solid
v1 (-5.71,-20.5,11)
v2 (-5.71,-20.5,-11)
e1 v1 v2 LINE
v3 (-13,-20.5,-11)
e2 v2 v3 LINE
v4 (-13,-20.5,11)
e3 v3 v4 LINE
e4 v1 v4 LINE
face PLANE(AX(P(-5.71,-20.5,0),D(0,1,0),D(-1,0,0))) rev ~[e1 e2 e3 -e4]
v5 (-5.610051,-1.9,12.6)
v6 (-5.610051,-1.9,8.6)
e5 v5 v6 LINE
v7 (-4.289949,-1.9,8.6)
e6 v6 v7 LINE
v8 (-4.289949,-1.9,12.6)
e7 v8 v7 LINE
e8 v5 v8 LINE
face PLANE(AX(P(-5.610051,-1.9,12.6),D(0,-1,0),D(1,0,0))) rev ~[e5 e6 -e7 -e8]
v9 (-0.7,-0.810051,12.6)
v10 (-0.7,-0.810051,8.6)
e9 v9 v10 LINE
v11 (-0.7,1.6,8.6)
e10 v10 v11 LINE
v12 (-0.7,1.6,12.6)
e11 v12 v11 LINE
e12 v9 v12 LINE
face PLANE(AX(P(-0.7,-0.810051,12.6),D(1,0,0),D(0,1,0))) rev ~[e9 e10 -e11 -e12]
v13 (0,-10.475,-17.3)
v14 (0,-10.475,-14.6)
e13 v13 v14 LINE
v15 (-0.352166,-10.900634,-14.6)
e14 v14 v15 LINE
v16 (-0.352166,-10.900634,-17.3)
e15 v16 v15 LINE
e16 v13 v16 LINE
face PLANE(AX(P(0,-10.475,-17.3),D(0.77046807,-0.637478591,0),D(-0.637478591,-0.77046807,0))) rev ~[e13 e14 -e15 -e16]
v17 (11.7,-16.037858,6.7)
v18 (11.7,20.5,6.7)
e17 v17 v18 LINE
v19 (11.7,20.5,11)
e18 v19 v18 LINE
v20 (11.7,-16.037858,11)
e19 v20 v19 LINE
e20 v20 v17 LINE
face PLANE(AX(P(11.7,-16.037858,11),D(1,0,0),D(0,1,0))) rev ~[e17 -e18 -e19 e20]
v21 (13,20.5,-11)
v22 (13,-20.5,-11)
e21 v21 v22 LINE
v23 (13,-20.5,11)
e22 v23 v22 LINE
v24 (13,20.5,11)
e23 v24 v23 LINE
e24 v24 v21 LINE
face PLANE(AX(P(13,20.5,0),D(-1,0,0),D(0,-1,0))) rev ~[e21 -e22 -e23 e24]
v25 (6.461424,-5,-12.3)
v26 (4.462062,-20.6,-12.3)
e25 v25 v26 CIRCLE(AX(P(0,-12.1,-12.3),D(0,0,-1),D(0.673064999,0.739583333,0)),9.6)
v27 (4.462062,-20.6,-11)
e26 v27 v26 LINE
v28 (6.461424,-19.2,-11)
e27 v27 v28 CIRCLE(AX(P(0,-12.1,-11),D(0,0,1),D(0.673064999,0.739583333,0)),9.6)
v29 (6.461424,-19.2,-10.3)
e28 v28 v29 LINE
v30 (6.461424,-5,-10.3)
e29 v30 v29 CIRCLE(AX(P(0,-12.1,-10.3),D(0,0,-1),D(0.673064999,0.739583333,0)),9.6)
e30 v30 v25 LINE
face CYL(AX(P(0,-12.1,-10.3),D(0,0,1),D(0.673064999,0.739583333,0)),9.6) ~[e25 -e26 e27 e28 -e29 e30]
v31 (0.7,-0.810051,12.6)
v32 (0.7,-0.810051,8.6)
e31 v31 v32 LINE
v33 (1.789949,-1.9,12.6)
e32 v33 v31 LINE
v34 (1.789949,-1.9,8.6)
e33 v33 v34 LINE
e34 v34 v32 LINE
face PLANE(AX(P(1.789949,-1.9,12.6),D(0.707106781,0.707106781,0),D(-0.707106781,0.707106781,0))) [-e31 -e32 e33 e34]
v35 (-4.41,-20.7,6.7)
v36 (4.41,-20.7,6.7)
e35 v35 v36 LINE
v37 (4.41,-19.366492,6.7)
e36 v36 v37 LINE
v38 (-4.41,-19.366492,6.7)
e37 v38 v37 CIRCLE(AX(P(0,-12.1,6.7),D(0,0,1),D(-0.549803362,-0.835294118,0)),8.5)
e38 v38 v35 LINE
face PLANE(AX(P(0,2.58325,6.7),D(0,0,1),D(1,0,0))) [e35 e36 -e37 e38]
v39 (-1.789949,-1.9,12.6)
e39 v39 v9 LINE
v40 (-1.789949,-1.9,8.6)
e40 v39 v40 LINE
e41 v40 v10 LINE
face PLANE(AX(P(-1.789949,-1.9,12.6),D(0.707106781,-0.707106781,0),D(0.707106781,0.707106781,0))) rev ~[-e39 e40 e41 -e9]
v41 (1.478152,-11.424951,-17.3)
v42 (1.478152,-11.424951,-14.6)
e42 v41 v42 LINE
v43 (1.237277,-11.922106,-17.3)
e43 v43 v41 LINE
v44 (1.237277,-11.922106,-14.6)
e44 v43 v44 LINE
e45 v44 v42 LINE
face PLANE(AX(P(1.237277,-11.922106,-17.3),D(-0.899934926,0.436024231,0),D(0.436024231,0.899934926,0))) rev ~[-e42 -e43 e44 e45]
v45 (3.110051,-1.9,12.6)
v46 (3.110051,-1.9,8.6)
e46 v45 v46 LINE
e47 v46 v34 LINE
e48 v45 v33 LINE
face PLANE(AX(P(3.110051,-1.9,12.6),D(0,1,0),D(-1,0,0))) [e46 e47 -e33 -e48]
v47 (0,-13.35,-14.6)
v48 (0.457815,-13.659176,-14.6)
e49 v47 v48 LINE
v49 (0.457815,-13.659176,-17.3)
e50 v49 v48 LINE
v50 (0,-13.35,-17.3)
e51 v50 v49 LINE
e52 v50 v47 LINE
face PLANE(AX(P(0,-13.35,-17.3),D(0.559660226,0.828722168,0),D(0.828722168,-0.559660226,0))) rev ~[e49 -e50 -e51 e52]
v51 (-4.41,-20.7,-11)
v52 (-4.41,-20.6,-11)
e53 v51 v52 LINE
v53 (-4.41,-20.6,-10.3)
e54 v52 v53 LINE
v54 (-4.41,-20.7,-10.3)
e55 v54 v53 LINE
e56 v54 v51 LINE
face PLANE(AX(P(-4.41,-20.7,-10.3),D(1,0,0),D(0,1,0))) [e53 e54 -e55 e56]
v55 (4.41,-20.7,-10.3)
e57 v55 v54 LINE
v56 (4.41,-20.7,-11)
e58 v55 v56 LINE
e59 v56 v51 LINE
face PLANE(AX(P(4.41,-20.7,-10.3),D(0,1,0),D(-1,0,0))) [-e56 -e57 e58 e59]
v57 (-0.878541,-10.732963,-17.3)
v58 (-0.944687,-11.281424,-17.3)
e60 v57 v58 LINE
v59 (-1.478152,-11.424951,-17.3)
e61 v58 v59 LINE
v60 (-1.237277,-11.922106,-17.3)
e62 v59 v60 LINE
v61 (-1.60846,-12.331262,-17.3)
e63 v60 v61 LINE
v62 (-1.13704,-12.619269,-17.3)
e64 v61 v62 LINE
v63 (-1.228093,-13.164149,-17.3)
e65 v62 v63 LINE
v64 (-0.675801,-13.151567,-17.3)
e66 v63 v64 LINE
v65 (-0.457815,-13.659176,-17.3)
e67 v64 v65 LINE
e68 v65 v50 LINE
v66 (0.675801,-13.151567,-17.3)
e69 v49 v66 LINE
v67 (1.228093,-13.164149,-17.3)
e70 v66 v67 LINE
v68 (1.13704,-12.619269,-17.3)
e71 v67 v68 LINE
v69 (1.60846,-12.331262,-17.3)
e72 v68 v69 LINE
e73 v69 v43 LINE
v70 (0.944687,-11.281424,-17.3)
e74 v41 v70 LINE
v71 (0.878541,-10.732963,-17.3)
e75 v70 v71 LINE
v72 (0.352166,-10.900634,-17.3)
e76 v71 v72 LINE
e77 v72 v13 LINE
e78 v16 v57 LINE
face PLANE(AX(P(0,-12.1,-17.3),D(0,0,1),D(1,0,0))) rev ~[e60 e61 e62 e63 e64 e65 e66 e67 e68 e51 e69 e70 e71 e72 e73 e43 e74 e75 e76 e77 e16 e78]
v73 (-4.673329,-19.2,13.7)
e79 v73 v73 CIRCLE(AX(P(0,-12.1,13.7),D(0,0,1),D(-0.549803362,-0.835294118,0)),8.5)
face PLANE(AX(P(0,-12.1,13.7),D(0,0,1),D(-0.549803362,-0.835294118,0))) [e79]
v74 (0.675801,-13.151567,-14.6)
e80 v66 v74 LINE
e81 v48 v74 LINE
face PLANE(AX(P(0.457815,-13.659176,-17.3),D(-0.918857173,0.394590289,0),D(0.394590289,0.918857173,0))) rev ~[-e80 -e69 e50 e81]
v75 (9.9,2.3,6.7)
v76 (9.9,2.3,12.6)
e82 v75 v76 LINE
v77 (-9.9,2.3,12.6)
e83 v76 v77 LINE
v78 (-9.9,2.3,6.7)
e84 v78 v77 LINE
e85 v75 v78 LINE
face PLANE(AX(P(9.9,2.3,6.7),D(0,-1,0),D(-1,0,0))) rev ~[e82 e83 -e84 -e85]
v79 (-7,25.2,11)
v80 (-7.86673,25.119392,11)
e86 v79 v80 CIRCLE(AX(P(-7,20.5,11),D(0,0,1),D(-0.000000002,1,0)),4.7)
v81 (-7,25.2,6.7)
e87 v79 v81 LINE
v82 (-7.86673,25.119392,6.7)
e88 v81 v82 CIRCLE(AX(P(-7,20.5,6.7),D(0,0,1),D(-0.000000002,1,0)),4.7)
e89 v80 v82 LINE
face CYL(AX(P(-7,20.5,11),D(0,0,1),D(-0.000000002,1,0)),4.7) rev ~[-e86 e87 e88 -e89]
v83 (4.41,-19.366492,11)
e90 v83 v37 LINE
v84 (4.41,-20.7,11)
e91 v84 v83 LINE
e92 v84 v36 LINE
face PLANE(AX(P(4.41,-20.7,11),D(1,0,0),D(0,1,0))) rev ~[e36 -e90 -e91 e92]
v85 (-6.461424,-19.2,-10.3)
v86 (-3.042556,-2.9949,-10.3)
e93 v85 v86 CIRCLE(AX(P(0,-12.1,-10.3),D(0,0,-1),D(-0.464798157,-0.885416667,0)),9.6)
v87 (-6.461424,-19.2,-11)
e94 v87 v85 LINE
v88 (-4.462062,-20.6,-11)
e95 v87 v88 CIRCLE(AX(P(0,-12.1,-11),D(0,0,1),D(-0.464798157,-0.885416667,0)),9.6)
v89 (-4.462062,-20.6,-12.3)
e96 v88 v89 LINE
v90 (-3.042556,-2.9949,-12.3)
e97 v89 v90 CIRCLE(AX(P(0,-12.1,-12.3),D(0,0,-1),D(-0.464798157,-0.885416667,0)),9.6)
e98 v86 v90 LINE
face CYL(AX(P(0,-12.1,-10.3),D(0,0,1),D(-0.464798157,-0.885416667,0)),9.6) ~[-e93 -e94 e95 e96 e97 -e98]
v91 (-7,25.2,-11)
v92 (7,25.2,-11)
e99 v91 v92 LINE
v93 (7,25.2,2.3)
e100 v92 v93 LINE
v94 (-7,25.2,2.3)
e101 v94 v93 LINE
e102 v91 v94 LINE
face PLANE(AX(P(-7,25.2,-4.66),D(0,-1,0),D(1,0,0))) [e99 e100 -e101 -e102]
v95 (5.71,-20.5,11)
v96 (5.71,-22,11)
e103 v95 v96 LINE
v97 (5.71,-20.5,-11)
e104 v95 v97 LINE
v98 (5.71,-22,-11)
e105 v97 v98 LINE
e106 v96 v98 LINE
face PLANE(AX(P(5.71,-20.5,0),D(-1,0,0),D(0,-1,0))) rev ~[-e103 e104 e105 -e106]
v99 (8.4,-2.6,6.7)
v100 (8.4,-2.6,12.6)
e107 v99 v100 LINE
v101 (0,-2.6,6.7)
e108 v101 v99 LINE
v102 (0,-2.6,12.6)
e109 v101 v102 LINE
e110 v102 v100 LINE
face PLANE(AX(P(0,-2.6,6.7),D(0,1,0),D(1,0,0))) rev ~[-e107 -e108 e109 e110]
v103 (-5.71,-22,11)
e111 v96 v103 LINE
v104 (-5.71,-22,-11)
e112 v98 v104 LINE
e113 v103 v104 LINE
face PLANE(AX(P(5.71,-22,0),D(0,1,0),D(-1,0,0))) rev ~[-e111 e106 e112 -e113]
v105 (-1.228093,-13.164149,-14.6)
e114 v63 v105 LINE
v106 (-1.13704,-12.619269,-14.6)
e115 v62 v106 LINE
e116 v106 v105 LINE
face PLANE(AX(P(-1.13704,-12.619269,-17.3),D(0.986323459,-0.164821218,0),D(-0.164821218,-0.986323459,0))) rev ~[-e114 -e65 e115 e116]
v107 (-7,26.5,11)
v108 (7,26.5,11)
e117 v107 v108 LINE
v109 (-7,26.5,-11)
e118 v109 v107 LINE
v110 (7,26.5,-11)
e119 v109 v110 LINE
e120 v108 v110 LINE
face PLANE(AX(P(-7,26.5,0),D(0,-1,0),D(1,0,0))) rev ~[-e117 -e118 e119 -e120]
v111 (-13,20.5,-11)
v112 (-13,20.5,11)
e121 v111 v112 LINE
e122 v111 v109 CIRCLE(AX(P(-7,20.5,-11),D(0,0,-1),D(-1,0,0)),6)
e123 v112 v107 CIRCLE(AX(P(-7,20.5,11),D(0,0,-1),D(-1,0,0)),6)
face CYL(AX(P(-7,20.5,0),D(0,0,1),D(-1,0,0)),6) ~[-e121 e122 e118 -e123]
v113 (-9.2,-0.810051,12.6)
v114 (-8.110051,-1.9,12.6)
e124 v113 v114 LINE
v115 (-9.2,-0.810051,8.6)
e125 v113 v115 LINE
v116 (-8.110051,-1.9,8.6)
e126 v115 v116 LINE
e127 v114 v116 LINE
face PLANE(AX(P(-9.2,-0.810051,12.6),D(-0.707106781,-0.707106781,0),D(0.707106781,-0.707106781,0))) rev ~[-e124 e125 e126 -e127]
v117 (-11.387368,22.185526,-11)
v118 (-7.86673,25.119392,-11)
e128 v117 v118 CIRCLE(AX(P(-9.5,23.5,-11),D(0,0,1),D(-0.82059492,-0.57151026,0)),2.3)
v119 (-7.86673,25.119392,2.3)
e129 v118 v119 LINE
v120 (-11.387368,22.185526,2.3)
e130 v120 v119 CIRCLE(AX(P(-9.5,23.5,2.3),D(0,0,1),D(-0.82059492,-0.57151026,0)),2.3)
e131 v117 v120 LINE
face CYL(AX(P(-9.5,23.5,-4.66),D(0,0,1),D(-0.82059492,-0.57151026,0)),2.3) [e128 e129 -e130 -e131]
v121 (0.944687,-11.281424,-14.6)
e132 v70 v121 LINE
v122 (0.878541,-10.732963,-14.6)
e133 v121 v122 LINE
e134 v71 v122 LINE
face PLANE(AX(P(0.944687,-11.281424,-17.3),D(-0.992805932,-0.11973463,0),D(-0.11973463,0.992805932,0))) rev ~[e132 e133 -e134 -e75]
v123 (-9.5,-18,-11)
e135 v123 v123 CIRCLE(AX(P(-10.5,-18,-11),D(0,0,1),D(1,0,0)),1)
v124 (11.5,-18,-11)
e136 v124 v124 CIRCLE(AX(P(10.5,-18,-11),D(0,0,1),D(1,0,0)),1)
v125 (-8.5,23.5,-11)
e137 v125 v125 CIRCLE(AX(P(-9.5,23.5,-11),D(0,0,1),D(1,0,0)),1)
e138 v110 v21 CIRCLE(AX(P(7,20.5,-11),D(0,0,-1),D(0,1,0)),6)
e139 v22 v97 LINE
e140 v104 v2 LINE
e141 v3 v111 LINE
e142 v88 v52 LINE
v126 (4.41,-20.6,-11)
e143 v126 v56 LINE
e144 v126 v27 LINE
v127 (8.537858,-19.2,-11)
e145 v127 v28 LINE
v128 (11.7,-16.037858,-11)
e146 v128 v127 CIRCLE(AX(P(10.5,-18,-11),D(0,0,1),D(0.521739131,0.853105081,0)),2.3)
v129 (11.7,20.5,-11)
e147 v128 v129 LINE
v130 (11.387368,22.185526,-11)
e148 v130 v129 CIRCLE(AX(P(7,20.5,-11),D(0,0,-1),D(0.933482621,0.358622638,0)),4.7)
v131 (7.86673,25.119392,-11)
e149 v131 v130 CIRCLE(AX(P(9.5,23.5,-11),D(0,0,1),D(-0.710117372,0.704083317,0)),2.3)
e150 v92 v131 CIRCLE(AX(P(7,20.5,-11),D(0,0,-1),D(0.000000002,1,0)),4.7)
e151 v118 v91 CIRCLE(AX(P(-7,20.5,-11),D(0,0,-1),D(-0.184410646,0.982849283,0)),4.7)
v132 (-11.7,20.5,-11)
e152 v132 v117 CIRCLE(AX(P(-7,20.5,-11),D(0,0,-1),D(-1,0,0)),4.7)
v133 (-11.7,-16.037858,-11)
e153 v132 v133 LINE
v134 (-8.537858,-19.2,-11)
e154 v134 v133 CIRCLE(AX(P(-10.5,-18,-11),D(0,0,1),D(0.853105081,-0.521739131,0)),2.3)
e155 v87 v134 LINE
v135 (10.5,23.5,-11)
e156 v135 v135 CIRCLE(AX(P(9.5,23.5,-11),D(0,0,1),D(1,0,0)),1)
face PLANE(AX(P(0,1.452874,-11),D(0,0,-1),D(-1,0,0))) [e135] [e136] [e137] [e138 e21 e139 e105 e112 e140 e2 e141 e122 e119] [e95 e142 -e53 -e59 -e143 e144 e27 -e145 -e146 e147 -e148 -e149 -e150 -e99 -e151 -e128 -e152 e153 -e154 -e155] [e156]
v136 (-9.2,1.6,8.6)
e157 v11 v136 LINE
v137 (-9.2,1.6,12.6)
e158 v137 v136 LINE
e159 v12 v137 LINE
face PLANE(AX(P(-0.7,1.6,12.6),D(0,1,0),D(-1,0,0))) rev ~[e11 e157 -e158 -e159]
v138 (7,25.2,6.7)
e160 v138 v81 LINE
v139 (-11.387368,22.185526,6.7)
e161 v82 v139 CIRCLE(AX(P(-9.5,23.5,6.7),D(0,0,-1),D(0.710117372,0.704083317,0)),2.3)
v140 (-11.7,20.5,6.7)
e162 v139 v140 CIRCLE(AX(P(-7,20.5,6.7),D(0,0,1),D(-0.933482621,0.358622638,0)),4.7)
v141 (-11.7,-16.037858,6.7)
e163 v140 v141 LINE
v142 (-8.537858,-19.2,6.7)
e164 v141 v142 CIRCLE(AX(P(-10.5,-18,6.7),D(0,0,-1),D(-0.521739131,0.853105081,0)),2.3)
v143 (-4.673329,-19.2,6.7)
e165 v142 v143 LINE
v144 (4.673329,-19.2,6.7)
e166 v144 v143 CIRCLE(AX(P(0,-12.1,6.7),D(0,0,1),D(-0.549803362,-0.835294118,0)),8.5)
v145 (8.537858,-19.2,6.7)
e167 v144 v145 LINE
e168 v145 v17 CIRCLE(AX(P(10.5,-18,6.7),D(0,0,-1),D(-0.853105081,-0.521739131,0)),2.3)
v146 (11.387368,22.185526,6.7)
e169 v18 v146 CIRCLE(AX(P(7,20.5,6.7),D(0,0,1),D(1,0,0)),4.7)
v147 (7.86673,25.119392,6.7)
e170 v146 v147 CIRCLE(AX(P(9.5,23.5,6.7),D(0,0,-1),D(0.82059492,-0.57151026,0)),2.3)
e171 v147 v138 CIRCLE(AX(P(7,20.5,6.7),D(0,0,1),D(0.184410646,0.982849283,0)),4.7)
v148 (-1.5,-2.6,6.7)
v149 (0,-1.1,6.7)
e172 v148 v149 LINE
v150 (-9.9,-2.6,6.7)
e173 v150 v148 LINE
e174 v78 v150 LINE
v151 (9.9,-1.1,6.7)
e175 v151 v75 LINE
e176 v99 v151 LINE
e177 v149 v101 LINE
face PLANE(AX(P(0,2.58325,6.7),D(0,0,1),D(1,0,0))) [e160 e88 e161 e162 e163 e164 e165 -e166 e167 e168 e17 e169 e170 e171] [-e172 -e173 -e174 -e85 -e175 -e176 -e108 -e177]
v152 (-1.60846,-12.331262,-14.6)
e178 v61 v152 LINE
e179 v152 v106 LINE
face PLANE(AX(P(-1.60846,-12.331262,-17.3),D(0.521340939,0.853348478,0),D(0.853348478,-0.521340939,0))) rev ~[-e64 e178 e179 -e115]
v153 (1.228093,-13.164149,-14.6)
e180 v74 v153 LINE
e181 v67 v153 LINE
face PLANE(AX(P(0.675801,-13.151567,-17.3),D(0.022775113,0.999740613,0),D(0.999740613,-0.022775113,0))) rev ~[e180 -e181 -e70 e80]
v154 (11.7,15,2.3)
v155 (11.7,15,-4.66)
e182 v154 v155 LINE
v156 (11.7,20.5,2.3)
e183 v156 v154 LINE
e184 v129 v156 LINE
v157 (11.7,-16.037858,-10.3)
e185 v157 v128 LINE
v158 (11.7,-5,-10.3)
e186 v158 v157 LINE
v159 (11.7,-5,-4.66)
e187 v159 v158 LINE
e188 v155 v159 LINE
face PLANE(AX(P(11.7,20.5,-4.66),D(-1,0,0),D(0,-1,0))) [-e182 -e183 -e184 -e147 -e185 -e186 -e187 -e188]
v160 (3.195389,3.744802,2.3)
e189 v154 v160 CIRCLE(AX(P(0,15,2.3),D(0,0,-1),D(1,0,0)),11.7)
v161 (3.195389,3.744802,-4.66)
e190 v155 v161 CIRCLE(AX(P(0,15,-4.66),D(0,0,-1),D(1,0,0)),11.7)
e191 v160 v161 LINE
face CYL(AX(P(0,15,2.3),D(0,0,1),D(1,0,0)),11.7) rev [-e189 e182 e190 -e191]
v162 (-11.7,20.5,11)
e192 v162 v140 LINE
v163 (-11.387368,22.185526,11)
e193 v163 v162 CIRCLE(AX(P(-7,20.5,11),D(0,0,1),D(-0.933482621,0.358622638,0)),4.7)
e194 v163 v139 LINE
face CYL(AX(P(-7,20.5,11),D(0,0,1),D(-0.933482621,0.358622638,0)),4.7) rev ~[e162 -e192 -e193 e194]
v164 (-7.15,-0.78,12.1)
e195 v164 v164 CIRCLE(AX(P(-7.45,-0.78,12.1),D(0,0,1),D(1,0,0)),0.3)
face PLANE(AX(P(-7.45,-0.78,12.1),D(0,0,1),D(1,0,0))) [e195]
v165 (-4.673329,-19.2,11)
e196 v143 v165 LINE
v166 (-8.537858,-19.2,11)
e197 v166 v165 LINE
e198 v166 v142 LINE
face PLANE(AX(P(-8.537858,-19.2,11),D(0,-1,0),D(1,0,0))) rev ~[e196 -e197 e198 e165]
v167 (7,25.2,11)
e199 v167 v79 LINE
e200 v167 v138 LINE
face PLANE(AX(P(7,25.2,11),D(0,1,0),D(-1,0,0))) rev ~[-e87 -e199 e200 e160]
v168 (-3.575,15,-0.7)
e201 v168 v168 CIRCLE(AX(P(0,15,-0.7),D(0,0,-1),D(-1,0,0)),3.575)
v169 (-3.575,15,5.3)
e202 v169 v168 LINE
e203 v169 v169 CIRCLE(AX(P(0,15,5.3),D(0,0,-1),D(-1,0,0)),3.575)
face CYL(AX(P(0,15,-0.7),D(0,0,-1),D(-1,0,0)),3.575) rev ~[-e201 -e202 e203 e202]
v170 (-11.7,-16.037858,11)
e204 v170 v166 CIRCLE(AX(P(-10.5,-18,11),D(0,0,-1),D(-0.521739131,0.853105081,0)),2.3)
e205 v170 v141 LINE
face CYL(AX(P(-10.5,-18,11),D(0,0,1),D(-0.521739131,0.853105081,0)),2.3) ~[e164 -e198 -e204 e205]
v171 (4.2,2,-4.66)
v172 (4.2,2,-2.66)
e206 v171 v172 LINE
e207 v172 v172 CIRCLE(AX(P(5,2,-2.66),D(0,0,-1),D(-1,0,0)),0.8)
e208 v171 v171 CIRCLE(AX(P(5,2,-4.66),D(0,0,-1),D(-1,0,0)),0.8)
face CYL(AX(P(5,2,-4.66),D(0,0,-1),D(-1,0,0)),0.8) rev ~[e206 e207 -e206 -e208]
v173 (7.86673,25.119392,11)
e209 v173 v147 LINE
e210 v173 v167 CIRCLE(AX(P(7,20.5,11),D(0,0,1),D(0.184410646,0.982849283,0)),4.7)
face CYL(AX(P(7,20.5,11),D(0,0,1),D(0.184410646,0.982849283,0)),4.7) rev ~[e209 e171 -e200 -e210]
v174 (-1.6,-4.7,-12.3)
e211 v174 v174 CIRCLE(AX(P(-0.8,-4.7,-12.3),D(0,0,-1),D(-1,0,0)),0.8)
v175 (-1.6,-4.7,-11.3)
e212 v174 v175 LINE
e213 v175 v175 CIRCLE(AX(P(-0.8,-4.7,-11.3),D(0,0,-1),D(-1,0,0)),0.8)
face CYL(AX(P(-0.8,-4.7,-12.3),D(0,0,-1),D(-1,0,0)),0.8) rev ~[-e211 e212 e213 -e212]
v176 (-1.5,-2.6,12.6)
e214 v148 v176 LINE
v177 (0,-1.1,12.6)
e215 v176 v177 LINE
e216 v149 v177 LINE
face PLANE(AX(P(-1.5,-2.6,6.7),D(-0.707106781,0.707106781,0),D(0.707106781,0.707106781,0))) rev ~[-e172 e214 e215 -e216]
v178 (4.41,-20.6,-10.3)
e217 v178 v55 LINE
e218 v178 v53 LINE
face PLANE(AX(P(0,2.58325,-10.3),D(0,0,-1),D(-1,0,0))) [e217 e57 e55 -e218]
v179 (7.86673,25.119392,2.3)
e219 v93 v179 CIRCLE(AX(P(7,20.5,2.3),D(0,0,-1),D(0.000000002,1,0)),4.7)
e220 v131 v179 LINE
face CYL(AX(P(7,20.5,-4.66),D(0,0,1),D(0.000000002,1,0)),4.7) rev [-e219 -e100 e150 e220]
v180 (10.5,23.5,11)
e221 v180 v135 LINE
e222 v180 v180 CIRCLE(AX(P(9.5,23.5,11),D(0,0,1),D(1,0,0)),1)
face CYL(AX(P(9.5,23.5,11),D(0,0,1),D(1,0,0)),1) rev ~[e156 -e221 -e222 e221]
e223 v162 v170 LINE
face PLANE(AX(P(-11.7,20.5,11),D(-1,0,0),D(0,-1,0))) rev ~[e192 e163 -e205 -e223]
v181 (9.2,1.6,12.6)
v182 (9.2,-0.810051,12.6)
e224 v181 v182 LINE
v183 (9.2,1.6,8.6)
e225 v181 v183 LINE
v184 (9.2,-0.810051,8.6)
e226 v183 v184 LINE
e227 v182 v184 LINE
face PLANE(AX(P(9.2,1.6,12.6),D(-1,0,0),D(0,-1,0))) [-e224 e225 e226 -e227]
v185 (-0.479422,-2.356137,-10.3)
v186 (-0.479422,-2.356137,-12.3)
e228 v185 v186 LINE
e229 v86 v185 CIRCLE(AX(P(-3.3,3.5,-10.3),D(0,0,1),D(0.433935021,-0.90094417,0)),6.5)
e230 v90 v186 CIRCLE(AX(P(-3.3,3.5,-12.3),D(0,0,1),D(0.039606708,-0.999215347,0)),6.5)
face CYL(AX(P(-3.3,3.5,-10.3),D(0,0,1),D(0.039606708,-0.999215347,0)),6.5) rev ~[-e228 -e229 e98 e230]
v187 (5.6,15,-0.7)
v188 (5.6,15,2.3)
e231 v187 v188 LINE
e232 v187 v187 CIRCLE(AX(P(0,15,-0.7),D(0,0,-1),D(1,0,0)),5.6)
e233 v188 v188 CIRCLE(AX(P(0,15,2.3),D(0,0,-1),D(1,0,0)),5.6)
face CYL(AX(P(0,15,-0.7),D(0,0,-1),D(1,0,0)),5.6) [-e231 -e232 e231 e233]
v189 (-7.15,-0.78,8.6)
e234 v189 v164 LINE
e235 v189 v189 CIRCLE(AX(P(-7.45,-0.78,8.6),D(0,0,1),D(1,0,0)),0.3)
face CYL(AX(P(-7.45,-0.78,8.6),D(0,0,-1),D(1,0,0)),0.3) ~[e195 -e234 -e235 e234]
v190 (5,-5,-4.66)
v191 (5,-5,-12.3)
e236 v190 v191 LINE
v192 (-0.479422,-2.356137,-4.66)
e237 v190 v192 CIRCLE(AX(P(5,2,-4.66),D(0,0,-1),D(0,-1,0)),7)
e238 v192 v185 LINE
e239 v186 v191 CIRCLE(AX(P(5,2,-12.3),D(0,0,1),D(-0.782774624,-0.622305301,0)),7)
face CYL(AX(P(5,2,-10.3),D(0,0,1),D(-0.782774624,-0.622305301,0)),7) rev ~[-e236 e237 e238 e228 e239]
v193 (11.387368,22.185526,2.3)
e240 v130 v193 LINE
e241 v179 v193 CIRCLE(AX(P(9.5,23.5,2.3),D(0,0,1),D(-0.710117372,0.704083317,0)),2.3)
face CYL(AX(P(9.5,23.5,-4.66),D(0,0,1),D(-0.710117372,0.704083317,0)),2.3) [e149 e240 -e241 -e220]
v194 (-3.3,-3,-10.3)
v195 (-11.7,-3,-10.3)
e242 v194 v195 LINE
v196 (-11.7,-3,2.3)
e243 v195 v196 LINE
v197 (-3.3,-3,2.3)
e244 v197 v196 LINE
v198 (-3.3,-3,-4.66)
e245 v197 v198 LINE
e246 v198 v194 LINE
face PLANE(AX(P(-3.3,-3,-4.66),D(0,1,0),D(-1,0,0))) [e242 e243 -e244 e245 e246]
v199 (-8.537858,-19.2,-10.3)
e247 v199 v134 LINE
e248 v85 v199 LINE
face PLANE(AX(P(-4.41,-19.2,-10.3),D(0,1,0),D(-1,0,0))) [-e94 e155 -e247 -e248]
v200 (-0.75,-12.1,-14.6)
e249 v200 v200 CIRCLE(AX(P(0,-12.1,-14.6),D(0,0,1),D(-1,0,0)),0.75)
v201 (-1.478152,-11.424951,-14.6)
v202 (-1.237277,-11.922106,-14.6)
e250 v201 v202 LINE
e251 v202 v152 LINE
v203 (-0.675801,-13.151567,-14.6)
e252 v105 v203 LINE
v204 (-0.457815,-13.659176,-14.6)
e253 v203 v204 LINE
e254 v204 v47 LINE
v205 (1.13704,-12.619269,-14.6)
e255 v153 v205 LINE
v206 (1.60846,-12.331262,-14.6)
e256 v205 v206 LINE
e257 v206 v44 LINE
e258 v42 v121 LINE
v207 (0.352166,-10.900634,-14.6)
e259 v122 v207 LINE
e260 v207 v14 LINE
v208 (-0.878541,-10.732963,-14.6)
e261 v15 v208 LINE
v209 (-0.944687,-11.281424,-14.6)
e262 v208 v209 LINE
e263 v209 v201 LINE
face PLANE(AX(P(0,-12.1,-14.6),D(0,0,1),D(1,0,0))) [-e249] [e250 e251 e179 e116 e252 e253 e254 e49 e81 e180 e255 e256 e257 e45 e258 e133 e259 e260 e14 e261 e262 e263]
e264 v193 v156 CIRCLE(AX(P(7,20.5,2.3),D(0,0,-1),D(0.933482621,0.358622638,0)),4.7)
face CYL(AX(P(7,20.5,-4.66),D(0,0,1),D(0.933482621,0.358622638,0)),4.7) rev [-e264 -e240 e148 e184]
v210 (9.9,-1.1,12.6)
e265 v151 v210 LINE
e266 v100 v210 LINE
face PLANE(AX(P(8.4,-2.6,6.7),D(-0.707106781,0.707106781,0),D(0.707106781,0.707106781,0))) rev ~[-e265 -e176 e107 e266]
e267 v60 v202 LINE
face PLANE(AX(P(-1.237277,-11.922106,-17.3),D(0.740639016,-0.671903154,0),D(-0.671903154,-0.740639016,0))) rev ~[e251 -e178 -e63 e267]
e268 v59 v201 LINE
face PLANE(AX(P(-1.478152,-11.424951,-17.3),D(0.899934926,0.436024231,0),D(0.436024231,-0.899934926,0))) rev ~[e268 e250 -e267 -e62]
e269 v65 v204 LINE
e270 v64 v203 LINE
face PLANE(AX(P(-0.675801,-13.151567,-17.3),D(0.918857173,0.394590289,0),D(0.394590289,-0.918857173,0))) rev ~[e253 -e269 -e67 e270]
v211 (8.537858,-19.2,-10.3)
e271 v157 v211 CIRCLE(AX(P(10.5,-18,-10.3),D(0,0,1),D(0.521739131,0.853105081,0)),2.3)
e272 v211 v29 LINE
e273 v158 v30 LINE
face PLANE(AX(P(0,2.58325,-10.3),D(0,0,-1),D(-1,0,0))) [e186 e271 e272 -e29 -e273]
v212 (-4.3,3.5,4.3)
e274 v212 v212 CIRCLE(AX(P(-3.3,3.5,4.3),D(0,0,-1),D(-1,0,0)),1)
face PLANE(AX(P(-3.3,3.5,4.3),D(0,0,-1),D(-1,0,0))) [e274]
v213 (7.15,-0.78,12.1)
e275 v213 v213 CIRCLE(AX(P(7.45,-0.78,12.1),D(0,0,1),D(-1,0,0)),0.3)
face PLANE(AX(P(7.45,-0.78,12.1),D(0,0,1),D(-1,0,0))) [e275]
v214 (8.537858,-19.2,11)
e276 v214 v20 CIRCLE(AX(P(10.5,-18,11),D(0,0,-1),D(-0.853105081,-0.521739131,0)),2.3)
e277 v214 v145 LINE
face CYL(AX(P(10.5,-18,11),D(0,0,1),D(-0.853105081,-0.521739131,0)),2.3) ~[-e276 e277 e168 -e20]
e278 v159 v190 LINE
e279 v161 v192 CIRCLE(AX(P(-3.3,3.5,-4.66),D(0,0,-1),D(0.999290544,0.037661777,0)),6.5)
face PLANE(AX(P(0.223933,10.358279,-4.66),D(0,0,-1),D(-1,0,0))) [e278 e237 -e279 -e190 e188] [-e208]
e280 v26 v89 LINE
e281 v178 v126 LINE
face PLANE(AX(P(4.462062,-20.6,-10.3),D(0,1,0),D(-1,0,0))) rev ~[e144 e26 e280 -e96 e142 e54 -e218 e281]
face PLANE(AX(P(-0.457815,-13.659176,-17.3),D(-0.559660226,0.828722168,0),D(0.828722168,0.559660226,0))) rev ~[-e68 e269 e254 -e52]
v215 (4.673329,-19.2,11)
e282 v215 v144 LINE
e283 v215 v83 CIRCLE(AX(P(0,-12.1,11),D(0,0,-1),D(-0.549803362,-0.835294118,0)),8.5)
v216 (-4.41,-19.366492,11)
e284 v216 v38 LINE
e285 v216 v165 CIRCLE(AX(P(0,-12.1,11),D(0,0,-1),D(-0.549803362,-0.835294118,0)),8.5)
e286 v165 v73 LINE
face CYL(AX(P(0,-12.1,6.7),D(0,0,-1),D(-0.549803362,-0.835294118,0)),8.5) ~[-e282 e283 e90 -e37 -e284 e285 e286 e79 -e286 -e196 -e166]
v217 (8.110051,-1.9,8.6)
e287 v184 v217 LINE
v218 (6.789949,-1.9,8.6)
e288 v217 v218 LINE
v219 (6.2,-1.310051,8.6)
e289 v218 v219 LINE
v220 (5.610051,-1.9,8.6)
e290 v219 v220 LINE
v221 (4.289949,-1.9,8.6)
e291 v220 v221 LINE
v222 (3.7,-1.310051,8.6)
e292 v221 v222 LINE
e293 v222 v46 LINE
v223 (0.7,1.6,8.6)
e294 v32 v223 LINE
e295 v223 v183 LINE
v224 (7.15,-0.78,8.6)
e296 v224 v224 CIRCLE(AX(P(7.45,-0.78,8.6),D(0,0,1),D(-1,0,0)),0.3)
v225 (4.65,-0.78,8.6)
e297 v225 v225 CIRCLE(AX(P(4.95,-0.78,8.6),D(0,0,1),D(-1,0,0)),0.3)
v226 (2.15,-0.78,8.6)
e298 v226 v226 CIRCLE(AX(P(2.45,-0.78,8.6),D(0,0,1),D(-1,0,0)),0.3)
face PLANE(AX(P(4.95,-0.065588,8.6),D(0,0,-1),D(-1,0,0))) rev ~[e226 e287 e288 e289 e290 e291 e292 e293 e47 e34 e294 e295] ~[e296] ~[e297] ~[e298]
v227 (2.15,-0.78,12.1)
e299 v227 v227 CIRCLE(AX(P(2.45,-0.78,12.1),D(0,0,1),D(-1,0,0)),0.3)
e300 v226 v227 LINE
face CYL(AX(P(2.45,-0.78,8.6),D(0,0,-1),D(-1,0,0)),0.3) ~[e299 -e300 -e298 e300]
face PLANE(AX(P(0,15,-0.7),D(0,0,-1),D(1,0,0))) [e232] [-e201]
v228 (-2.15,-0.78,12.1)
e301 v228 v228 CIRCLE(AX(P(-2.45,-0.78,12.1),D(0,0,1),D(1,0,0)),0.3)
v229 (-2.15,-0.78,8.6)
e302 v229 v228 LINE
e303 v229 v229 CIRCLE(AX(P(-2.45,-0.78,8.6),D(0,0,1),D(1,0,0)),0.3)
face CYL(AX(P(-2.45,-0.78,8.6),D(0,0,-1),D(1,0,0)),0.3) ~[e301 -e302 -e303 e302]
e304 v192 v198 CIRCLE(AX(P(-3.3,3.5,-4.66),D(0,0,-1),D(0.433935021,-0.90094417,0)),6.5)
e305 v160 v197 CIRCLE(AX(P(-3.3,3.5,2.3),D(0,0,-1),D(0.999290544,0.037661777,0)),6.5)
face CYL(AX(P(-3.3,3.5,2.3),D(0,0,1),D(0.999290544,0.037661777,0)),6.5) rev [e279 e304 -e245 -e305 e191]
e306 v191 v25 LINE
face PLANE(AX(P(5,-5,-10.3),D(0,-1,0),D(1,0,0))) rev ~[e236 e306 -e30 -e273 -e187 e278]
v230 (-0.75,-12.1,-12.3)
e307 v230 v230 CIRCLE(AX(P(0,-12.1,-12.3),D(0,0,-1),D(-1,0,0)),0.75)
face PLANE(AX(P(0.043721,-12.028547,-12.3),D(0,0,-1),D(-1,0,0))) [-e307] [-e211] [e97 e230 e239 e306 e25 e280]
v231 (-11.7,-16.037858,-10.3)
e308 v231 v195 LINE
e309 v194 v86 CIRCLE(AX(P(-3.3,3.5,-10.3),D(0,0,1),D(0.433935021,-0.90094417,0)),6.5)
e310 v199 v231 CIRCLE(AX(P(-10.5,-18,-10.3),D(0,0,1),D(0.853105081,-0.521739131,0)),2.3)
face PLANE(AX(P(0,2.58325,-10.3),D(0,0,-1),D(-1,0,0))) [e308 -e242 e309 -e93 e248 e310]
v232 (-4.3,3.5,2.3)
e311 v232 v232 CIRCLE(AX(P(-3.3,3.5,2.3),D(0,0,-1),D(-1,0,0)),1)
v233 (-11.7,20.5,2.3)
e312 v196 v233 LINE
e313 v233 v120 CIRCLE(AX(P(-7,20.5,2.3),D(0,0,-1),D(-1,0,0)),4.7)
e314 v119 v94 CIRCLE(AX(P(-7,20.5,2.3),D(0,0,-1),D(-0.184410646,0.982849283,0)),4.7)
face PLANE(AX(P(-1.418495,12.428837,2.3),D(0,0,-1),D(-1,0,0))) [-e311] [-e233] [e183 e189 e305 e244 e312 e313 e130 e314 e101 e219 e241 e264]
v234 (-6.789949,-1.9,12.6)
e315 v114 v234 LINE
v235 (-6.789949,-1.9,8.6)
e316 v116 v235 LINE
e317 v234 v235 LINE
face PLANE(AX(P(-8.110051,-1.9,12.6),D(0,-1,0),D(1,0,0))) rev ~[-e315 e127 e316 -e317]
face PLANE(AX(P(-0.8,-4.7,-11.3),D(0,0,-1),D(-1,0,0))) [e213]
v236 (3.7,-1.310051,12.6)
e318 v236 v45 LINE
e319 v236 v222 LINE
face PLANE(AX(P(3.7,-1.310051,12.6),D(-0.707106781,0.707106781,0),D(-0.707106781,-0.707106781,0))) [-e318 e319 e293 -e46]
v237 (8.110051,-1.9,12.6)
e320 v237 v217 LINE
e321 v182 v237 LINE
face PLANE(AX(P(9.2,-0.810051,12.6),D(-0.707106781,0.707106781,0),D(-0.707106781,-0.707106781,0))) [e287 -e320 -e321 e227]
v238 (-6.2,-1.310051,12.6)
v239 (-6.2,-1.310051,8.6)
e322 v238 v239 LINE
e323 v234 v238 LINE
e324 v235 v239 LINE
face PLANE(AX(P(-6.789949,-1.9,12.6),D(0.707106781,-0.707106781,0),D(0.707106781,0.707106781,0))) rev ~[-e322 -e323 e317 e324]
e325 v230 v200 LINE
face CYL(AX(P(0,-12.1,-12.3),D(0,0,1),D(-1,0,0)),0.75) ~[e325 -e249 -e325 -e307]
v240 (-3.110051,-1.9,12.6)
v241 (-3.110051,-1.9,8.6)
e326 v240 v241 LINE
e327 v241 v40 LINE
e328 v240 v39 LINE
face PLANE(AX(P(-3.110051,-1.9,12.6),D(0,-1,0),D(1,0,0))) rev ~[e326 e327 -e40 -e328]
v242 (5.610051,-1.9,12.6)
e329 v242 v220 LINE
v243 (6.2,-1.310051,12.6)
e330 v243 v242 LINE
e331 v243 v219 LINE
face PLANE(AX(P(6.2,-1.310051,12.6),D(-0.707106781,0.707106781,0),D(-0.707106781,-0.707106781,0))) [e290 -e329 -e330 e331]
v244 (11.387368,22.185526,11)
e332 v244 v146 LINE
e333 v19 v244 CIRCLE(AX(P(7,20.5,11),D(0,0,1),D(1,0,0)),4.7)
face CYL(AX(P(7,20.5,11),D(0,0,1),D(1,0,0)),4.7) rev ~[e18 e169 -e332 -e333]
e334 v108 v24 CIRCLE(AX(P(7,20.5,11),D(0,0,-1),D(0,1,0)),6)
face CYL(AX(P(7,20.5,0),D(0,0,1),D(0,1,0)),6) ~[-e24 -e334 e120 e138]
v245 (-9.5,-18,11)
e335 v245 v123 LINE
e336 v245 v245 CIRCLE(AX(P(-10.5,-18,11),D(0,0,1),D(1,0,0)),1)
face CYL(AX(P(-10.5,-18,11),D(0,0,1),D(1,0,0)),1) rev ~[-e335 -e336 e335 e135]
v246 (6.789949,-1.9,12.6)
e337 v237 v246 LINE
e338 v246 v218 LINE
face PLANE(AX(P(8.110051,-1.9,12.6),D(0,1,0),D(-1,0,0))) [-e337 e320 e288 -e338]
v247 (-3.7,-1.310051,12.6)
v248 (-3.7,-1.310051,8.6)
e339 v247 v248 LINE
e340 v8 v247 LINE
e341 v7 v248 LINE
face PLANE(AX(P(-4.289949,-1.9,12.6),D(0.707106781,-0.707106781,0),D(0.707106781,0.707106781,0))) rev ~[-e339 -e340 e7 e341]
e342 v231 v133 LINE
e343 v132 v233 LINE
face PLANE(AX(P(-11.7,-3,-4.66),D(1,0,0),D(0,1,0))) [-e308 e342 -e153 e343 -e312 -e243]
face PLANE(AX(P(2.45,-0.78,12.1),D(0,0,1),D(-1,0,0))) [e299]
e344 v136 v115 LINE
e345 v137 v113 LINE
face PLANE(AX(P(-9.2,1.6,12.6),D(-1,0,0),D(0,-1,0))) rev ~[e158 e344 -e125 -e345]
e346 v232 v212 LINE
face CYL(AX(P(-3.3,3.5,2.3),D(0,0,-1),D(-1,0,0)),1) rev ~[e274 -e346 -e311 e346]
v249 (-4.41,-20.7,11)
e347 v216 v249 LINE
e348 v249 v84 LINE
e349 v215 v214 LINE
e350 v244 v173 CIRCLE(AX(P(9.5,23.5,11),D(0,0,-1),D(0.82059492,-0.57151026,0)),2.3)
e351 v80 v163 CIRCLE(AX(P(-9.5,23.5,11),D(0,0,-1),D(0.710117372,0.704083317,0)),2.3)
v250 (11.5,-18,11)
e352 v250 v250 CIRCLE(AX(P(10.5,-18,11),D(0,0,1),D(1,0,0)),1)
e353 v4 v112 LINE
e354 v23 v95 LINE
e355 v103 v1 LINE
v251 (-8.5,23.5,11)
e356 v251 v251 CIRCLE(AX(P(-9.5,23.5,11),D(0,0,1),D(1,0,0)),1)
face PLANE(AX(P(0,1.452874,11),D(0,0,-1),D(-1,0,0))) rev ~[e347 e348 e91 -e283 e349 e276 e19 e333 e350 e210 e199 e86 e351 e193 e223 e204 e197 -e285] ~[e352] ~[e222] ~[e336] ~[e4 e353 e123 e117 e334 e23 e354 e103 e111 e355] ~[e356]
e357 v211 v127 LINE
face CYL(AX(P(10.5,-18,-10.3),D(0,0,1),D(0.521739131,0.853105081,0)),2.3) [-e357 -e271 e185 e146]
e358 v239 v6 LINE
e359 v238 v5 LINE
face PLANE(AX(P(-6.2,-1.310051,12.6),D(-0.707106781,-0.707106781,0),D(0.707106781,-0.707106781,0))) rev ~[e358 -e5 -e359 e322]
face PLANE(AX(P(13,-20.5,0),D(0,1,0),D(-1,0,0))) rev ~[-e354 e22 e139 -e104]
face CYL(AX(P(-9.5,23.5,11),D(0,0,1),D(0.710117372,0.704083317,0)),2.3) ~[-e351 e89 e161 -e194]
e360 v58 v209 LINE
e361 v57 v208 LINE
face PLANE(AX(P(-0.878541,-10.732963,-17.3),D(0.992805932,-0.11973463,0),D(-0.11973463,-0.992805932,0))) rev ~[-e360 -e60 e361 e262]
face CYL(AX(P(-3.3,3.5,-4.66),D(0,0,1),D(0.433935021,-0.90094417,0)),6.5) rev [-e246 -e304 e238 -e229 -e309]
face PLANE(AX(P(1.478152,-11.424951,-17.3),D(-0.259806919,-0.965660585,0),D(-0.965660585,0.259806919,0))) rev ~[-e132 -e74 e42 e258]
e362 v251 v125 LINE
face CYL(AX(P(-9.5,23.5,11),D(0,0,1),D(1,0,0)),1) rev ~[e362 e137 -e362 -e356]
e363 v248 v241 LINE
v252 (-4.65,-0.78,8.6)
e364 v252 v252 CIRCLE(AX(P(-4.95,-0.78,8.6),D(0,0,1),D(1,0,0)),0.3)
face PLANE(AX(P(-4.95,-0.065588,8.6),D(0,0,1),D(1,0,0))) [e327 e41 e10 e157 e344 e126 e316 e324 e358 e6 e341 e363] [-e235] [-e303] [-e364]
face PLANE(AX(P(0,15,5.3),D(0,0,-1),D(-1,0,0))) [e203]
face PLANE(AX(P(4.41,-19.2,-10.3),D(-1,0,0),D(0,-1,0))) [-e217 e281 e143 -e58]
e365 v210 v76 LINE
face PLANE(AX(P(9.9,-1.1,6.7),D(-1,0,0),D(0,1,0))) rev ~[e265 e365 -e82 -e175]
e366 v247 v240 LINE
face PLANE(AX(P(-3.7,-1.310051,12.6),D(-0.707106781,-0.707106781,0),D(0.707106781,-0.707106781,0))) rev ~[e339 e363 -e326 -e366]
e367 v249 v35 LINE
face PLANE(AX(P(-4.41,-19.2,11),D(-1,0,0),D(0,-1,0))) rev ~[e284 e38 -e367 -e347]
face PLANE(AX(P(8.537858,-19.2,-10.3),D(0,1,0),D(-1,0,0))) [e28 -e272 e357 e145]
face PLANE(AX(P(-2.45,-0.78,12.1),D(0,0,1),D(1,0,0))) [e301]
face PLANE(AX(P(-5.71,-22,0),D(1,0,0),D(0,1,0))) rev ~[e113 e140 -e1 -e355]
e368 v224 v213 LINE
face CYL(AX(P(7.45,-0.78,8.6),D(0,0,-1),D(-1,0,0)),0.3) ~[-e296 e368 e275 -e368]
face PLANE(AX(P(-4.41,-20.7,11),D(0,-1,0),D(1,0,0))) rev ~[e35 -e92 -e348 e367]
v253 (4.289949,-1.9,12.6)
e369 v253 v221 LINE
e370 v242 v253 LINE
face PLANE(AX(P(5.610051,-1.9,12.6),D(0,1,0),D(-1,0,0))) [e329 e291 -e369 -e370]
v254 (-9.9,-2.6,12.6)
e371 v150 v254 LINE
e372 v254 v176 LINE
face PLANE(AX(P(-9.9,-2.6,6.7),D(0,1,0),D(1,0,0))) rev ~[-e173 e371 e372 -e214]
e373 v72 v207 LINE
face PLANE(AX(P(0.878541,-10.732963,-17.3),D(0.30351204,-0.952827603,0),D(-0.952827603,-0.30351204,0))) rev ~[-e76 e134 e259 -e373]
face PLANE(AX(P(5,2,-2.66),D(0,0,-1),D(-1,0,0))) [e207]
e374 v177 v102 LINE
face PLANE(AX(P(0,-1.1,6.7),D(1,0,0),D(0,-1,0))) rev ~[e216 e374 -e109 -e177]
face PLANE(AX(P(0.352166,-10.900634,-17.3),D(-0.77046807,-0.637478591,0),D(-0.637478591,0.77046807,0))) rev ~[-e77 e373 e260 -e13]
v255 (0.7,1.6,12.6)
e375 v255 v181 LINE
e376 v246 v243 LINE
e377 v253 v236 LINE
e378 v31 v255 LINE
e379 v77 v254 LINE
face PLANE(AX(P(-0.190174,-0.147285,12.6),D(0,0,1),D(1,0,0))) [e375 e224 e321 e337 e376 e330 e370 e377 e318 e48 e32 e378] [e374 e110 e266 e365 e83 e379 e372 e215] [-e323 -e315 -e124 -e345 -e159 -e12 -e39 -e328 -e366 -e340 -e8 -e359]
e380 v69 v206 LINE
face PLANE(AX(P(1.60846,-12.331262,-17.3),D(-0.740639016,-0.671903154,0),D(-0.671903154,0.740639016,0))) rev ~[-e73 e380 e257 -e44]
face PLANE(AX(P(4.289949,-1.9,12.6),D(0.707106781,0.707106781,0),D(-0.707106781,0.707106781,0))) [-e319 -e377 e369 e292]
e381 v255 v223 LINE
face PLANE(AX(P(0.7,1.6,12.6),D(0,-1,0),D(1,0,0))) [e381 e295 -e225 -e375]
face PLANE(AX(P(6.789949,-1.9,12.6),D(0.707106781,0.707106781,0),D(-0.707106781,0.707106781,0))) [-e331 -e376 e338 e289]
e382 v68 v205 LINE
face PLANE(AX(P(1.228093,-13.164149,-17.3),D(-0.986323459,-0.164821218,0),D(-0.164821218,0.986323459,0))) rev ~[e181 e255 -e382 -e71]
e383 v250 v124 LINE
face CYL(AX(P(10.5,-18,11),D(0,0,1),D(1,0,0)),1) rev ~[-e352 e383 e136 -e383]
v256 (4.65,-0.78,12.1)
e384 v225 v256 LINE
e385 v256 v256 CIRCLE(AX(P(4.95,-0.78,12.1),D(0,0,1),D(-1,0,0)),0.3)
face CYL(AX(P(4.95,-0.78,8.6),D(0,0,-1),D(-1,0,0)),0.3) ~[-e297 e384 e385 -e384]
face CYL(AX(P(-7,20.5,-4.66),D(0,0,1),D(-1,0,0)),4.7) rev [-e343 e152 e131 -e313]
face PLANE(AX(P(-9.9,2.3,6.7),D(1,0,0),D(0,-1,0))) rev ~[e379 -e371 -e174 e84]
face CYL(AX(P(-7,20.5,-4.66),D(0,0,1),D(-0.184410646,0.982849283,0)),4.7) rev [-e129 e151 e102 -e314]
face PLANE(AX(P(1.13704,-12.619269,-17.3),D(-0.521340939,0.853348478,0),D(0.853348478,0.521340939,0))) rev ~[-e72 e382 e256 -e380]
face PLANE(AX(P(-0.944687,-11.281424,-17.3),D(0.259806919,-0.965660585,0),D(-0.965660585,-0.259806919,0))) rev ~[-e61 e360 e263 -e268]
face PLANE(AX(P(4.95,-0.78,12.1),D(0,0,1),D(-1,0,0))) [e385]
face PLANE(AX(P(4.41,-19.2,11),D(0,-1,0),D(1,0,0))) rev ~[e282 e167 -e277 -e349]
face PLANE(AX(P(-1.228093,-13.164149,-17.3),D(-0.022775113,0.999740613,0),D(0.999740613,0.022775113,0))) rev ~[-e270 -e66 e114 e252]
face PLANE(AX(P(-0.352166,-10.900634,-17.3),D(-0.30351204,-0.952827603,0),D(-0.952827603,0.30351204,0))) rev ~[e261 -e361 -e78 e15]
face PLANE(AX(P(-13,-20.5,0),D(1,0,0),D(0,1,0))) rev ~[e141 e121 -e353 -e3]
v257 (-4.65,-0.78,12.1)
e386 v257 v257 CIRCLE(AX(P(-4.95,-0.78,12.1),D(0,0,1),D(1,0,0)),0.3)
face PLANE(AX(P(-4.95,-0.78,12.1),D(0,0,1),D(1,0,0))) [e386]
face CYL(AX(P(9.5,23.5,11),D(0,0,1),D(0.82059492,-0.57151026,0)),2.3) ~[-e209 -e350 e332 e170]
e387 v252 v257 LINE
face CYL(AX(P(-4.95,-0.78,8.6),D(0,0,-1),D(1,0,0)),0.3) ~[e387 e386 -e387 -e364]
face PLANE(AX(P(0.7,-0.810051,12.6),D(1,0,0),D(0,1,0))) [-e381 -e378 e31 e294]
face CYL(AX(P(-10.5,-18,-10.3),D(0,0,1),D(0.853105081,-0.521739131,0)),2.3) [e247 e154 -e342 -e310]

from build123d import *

# Parameters (mm, degrees)
BOSS_EXTRUDE1_DEPTH = 11
SKETCH2_R           = 1
CUT_EXTRUDE1_DEPTH  = 37.813720268
CUT_EXTRUDE2_DEPTH  = 4.3
SKETCH6_R           = 8.5
BOSS_EXTRUDE2_DEPTH = 7
BOSS_EXTRUDE3_DEPTH = 5.9
CUT_EXTRUDE3_DEPTH  = 4
SKETCH9_R           = 0.3
BOSS_EXTRUDE4_DEPTH = 3.5
CUT_EXTRUDE4_START  = -6.34
CUT_EXTRUDE4_DEPTH  = 6.34
CUT_EXTRUDE5_START  = -6.96
CUT_EXTRUDE5_DEPTH  = 6.96
SKETCH14_R          = 0.8
CUT_EXTRUDE6_DEPTH  = 2
SKETCH15_R          = 1
CUT_EXTRUDE7_DEPTH  = 2
SKETCH16_R          = 3.575
CUT_EXTRUDE8_DEPTH  = 3
CUT_EXTRUDE9_START  = -0.7
CUT_EXTRUDE9_DEPTH  = 0.7
BOSS_EXTRUDE5_DEPTH = 2
SKETCH19_R          = 0.75
BOSS_EXTRUDE6_DEPTH = 5
BOSS_EXTRUDE7_DEPTH = 2.7
SKETCH21_R          = 0.8
CUT_EXTRUDE10_DEPTH = 1
BOSS_EXTRUDE8_START = 3
SKETCH22_R          = 5.6
SKETCH22_R_2        = 3.575
BOSS_EXTRUDE8_DEPTH = 3


with BuildPart() as part:
    # Sketch1 → Boss-Extrude1 (new, symmetric)
    with BuildSketch(Plane.XY):
        with BuildLine():
            Line((-7, 26.5), (7, 26.5))
            ThreePointArc((7, 26.5), (11.242640687, 24.742640687), (13, 20.5))
            Line((13, 20.5), (13, -20.5))
            Line((13, -20.5), (5.71, -20.5))
            Line((5.71, -20.5), (5.71, -22))
            Line((5.71, -22), (-5.71, -22))
            Line((-5.71, -22), (-5.71, -20.5))
            Line((-5.71, -20.5), (-13, -20.5))
            Line((-13, -20.5), (-13, 20.5))
            ThreePointArc((-13, 20.5), (-11.242640687, 24.742640687), (-7, 26.5))
        make_face()
    extrude(amount=BOSS_EXTRUDE1_DEPTH, both=True)

    # Sketch2 → Cut-Extrude1 (cut, through all)
    with BuildSketch(Plane.XY.offset(11)):
        with Locations((-9.5, 23.5)):
            Circle(SKETCH2_R)
        with Locations((-10.5, -18)):
            Circle(SKETCH2_R)
        with Locations((10.5, -18)):
            Circle(SKETCH2_R)
        with Locations((9.5, 23.5)):
            Circle(SKETCH2_R)
    extrude(amount=-CUT_EXTRUDE1_DEPTH, mode=Mode.SUBTRACT)

    # Sketch4 → Cut-Extrude2 (cut)
    with BuildSketch(Plane.XY.offset(11)):
        with BuildLine():
            Line((4.41, -19.2), (8.537858313, -19.2))
            ThreePointArc((8.537858313, -19.2), (8.873654403, -16.373654403), (11.7, -16.037858313))
            Line((11.7, -16.037858313), (11.7, 20.5))
            ThreePointArc((11.7, 20.5), (11.621181185, 21.357137361), (11.387368317, 22.185526403))
            ThreePointArc((11.387368317, 22.185526403), (8.027575881, 21.733091057), (7.866730044, 25.11939163))
            ThreePointArc((7.866730044, 25.11939163), (7.435235189, 25.179804518), (7, 25.2))
            Line((7, 25.2), (-7, 25.2))
            ThreePointArc((-7, 25.2), (-7.435235189, 25.179804518), (-7.866730044, 25.11939163))
            ThreePointArc((-7.866730044, 25.11939163), (-8.027575881, 21.733091057), (-11.387368317, 22.185526403))
            ThreePointArc((-11.387368317, 22.185526403), (-11.621181185, 21.357137361), (-11.7, 20.5))
            Line((-11.7, 20.5), (-11.7, -16.037858313))
            ThreePointArc((-11.7, -16.037858313), (-8.873654403, -16.373654403), (-8.537858313, -19.2))
            Line((-8.537858313, -19.2), (-4.41, -19.2))
            Line((-4.41, -19.2), (-4.41, -20.7))
            Line((-4.41, -20.7), (4.41, -20.7))
            Line((4.41, -20.7), (4.41, -19.2))
        make_face()
    extrude(amount=-CUT_EXTRUDE2_DEPTH, mode=Mode.SUBTRACT)

    # Sketch6 → Boss-Extrude2 (add)
    with BuildSketch(Plane.XY.offset(6.7)):
        with Locations(Location((0, -12.1, 0), (0, 0, 236.646476163))):
            Circle(SKETCH6_R)
    extrude(amount=BOSS_EXTRUDE2_DEPTH)

    # Sketch7 → Boss-Extrude3 (add)
    with BuildSketch(Plane.XY.offset(6.7)):
        Polygon((-1.5, -2.6), (0, -1.1), (0, -2.6), (8.4, -2.6), (9.9, -1.1), (9.9, 2.3), (-9.9, 2.3), (-9.9, -2.6), align=None)
    extrude(amount=BOSS_EXTRUDE3_DEPTH)

    # Sketch8 → Cut-Extrude3 (cut)
    with BuildSketch(Plane.XY.offset(12.6)):
        Polygon((-9.2, 1.6), (-9.2, -0.810050506), (-8.110050506, -1.9), (-6.789949494, -1.9), (-6.2, -1.310050506), (-5.610050506, -1.9), (-4.289949494, -1.9), (-3.7, -1.310050506), (-3.110050506, -1.9), (-1.789949494, -1.9), (-0.7, -0.810050506), (-0.7, 1.6), align=None)
        Polygon((5.610050506, -1.9), (4.289949494, -1.9), (3.7, -1.310050506), (3.110050506, -1.9), (1.789949494, -1.9), (0.7, -0.810050506), (0.7, 1.6), (9.2, 1.6), (9.2, -0.810050506), (8.110050506, -1.9), (6.789949494, -1.9), (6.2, -1.310050506), align=None)
    extrude(amount=-CUT_EXTRUDE3_DEPTH, mode=Mode.SUBTRACT)

    # Sketch9 → Boss-Extrude4 (add)
    with BuildSketch(Plane.XY.offset(8.6)):
        with Locations((-7.45, -0.78)):
            Circle(SKETCH9_R)
        with Locations((-4.95, -0.78)):
            Circle(SKETCH9_R)
        with Locations((-2.45, -0.78)):
            Circle(SKETCH9_R)
        with Locations(Location((2.45, -0.78, 0), (0, 0, 180))):
            Circle(SKETCH9_R)
        with Locations(Location((4.95, -0.78, 0), (0, 0, 180))):
            Circle(SKETCH9_R)
        with Locations(Location((7.45, -0.78, 0), (0, 0, 180))):
            Circle(SKETCH9_R)
    extrude(amount=BOSS_EXTRUDE4_DEPTH)

    # Sketch11 → Cut-Extrude4 (cut)
    with BuildSketch(Plane(origin=(0, 0, -11), x_dir=(-1, 0, 0), z_dir=(0, 0, -1)).offset(CUT_EXTRUDE4_START)):
        with BuildLine():
            Line((3.3, -3), (11.7, -3))
            Line((11.7, -3), (11.7, 20.5))
            ThreePointArc((11.7, 20.5), (11.621181185, 21.357137361), (11.387368317, 22.185526403))
            ThreePointArc((11.387368317, 22.185526403), (8.027575881, 21.733091057), (7.866730044, 25.11939163))
            ThreePointArc((7.866730044, 25.11939163), (7.435235189, 25.179804518), (7, 25.2))
            Line((7, 25.2), (-7, 25.2))
            ThreePointArc((-7, 25.2), (-7.435235189, 25.179804518), (-7.866730044, 25.11939163))
            ThreePointArc((-7.866730044, 25.11939163), (-8.027575881, 21.733091057), (-11.387368317, 22.185526403))
            ThreePointArc((-11.387368317, 22.185526403), (-11.621181185, 21.357137361), (-11.7, 20.5))
            Line((-11.7, 20.5), (-11.7, -5))
            Line((-11.7, -5), (-5, -5))
            ThreePointArc((-5, -5), (-1.958040085, -4.304480936), (0.479422369, -2.356137108))
            ThreePointArc((0.479422369, -2.356137108), (1.853433583, -2.836990264), (3.3, -3))
        make_face()
    extrude(amount=CUT_EXTRUDE4_DEPTH, mode=Mode.SUBTRACT)

    # Sketch12 → Cut-Extrude5 (cut)
    with BuildSketch(Plane(origin=(0, 0, -4.66), x_dir=(-1, 0, 0), z_dir=(0, 0, -1)).offset(CUT_EXTRUDE5_START)):
        with BuildLine():
            Line((7, 25.2), (-7, 25.2))
            ThreePointArc((-7, 25.2), (-7.435235189, 25.179804518), (-7.866730044, 25.11939163))
            ThreePointArc((-7.866730044, 25.11939163), (-8.027575881, 21.733091057), (-11.387368317, 22.185526403))
            ThreePointArc((-11.387368317, 22.185526403), (-11.621181185, 21.357137361), (-11.7, 20.5))
            Line((-11.7, 20.5), (-11.7, 15))
            ThreePointArc((-11.7, 15), (-9.334774926, 7.94649186), (-3.195388533, 3.744801551))
            ThreePointArc((-3.195388533, 3.744801551), (-1.381944579, -1.008813032), (3.3, -3))
            Line((3.3, -3), (11.7, -3))
            Line((11.7, -3), (11.7, 20.5))
            ThreePointArc((11.7, 20.5), (11.621181185, 21.357137361), (11.387368317, 22.185526403))
            ThreePointArc((11.387368317, 22.185526403), (8.027575881, 21.733091057), (7.866730044, 25.11939163))
            ThreePointArc((7.866730044, 25.11939163), (7.435235189, 25.179804518), (7, 25.2))
        make_face()
    extrude(amount=CUT_EXTRUDE5_DEPTH, mode=Mode.SUBTRACT)

    # Sketch14 → Cut-Extrude6 (cut)
    with BuildSketch(Plane(origin=(0, 0, -4.66), x_dir=(-1, 0, 0), z_dir=(0, 0, -1))):
        with Locations((-5, 2)):
            Circle(SKETCH14_R)
    extrude(amount=-CUT_EXTRUDE6_DEPTH, mode=Mode.SUBTRACT)

    # Sketch15 → Cut-Extrude7 (cut)
    with BuildSketch(Plane(origin=(0, 0, 2.3), x_dir=(-1, 0, 0), z_dir=(0, 0, -1))):
        with Locations((3.3, 3.5)):
            Circle(SKETCH15_R)
    extrude(amount=-CUT_EXTRUDE7_DEPTH, mode=Mode.SUBTRACT)

    # Sketch16 → Cut-Extrude8 (cut)
    with BuildSketch(Plane(origin=(0, 0, 2.3), x_dir=(-1, 0, 0), z_dir=(0, 0, -1))):
        with Locations((0, 15)):
            Circle(SKETCH16_R)
    extrude(amount=-CUT_EXTRUDE8_DEPTH, mode=Mode.SUBTRACT)

    # Sketch17 → Cut-Extrude9 (cut)
    with BuildSketch(Plane(origin=(0, 0, -11), x_dir=(-1, 0, 0), z_dir=(0, 0, -1)).offset(CUT_EXTRUDE9_START)):
        with BuildLine():
            Line((4.41, -20.7), (4.41, -19.2))
            Line((4.41, -19.2), (8.537858313, -19.2))
            ThreePointArc((8.537858313, -19.2), (8.873654403, -16.373654403), (11.7, -16.037858313))
            Line((11.7, -16.037858313), (11.7, 20.5))
            ThreePointArc((11.7, 20.5), (11.621181185, 21.357137361), (11.387368317, 22.185526403))
            ThreePointArc((11.387368317, 22.185526403), (8.027575881, 21.733091057), (7.866730044, 25.11939163))
            ThreePointArc((7.866730044, 25.11939163), (7.435235189, 25.179804518), (7, 25.2))
            Line((7, 25.2), (-7, 25.2))
            ThreePointArc((-7, 25.2), (-7.435235189, 25.179804518), (-7.866730044, 25.11939163))
            ThreePointArc((-7.866730044, 25.11939163), (-8.027575881, 21.733091057), (-11.387368317, 22.185526403))
            ThreePointArc((-11.387368317, 22.185526403), (-11.621181185, 21.357137361), (-11.7, 20.5))
            Line((-11.7, 20.5), (-11.7, -16.037858313))
            ThreePointArc((-11.7, -16.037858313), (-8.873654403, -16.373654403), (-8.537858313, -19.2))
            Line((-8.537858313, -19.2), (-4.41, -19.2))
            Line((-4.41, -19.2), (-4.41, -20.7))
            Line((-4.41, -20.7), (4.41, -20.7))
        make_face()
    extrude(amount=CUT_EXTRUDE9_DEPTH, mode=Mode.SUBTRACT)

    # Sketch18 → Boss-Extrude5 (add)
    with BuildSketch(Plane(origin=(0, 0, -10.3), x_dir=(-1, 0, 0), z_dir=(0, 0, -1))):
        with BuildLine():
            Line((-4.462062303, -20.6), (4.462062303, -20.6))
            ThreePointArc((4.462062303, -20.6), (9.568945301, -11.328452318), (3.042556406, -2.994899753))
            ThreePointArc((3.042556406, -2.994899753), (1.728199092, -2.807094569), (0.479422369, -2.356137108))
            ThreePointArc((0.479422369, -2.356137108), (-1.958040085, -4.304480936), (-5, -5))
            Line((-5, -5), (-6.461423992, -5))
            ThreePointArc((-6.461423992, -5), (-9.522113117, -13.320394113), (-4.462062303, -20.6))
        make_face()
    extrude(amount=BOSS_EXTRUDE5_DEPTH)

    # Sketch19 → Boss-Extrude6 (add)
    with BuildSketch(Plane(origin=(0, 0, -12.3), x_dir=(-1, 0, 0), z_dir=(0, 0, -1))):
        with Locations((0, -12.1)):
            Circle(SKETCH19_R)
    extrude(amount=BOSS_EXTRUDE6_DEPTH)

    # Sketch20 → Boss-Extrude7 (add)
    with BuildSketch(Plane(origin=(0, 0, -17.3), x_dir=(-1, 0, 0), z_dir=(0, 0, -1))):
        Polygon((-0.352165696, -10.900633783), (0, -10.475), (0.352165696, -10.900633783), (0.878541328, -10.732963009), (0.944686968, -11.281424083), (1.478151992, -11.424950604), (1.237276802, -11.922106452), (1.608459843, -12.331261612), (1.137039994, -12.619268766), (1.228093058, -13.164148693), (0.675801022, -13.151566916), (0.457815405, -13.659176082), (0, -13.35), (-0.457815405, -13.659176082), (-0.675801022, -13.151566916), (-1.228093058, -13.164148693), (-1.137039994, -12.619268766), (-1.608459843, -12.331261612), (-1.237276802, -11.922106452), (-1.478151992, -11.424950604), (-0.944686968, -11.281424083), (-0.878541328, -10.732963009), align=None)
    extrude(amount=-BOSS_EXTRUDE7_DEPTH)

    # Sketch21 → Cut-Extrude10 (cut)
    with BuildSketch(Plane(origin=(0, 0, -12.3), x_dir=(-1, 0, 0), z_dir=(0, 0, -1))):
        with Locations((0.8, -4.7)):
            Circle(SKETCH21_R)
    extrude(amount=-CUT_EXTRUDE10_DEPTH, mode=Mode.SUBTRACT)

    # Sketch22 → Boss-Extrude8 (add)
    with BuildSketch(Plane(origin=(0, 0, 2.3), x_dir=(-1, 0, 0), z_dir=(0, 0, -1)).offset(BOSS_EXTRUDE8_START)):
        with Locations(Location((0, 15, 0), (0, 0, 180))):
            Circle(SKETCH22_R)
        with Locations((0, 15)):
            Circle(SKETCH22_R_2, mode=Mode.SUBTRACT)
    extrude(amount=-BOSS_EXTRUDE8_DEPTH)


solid = part.part
